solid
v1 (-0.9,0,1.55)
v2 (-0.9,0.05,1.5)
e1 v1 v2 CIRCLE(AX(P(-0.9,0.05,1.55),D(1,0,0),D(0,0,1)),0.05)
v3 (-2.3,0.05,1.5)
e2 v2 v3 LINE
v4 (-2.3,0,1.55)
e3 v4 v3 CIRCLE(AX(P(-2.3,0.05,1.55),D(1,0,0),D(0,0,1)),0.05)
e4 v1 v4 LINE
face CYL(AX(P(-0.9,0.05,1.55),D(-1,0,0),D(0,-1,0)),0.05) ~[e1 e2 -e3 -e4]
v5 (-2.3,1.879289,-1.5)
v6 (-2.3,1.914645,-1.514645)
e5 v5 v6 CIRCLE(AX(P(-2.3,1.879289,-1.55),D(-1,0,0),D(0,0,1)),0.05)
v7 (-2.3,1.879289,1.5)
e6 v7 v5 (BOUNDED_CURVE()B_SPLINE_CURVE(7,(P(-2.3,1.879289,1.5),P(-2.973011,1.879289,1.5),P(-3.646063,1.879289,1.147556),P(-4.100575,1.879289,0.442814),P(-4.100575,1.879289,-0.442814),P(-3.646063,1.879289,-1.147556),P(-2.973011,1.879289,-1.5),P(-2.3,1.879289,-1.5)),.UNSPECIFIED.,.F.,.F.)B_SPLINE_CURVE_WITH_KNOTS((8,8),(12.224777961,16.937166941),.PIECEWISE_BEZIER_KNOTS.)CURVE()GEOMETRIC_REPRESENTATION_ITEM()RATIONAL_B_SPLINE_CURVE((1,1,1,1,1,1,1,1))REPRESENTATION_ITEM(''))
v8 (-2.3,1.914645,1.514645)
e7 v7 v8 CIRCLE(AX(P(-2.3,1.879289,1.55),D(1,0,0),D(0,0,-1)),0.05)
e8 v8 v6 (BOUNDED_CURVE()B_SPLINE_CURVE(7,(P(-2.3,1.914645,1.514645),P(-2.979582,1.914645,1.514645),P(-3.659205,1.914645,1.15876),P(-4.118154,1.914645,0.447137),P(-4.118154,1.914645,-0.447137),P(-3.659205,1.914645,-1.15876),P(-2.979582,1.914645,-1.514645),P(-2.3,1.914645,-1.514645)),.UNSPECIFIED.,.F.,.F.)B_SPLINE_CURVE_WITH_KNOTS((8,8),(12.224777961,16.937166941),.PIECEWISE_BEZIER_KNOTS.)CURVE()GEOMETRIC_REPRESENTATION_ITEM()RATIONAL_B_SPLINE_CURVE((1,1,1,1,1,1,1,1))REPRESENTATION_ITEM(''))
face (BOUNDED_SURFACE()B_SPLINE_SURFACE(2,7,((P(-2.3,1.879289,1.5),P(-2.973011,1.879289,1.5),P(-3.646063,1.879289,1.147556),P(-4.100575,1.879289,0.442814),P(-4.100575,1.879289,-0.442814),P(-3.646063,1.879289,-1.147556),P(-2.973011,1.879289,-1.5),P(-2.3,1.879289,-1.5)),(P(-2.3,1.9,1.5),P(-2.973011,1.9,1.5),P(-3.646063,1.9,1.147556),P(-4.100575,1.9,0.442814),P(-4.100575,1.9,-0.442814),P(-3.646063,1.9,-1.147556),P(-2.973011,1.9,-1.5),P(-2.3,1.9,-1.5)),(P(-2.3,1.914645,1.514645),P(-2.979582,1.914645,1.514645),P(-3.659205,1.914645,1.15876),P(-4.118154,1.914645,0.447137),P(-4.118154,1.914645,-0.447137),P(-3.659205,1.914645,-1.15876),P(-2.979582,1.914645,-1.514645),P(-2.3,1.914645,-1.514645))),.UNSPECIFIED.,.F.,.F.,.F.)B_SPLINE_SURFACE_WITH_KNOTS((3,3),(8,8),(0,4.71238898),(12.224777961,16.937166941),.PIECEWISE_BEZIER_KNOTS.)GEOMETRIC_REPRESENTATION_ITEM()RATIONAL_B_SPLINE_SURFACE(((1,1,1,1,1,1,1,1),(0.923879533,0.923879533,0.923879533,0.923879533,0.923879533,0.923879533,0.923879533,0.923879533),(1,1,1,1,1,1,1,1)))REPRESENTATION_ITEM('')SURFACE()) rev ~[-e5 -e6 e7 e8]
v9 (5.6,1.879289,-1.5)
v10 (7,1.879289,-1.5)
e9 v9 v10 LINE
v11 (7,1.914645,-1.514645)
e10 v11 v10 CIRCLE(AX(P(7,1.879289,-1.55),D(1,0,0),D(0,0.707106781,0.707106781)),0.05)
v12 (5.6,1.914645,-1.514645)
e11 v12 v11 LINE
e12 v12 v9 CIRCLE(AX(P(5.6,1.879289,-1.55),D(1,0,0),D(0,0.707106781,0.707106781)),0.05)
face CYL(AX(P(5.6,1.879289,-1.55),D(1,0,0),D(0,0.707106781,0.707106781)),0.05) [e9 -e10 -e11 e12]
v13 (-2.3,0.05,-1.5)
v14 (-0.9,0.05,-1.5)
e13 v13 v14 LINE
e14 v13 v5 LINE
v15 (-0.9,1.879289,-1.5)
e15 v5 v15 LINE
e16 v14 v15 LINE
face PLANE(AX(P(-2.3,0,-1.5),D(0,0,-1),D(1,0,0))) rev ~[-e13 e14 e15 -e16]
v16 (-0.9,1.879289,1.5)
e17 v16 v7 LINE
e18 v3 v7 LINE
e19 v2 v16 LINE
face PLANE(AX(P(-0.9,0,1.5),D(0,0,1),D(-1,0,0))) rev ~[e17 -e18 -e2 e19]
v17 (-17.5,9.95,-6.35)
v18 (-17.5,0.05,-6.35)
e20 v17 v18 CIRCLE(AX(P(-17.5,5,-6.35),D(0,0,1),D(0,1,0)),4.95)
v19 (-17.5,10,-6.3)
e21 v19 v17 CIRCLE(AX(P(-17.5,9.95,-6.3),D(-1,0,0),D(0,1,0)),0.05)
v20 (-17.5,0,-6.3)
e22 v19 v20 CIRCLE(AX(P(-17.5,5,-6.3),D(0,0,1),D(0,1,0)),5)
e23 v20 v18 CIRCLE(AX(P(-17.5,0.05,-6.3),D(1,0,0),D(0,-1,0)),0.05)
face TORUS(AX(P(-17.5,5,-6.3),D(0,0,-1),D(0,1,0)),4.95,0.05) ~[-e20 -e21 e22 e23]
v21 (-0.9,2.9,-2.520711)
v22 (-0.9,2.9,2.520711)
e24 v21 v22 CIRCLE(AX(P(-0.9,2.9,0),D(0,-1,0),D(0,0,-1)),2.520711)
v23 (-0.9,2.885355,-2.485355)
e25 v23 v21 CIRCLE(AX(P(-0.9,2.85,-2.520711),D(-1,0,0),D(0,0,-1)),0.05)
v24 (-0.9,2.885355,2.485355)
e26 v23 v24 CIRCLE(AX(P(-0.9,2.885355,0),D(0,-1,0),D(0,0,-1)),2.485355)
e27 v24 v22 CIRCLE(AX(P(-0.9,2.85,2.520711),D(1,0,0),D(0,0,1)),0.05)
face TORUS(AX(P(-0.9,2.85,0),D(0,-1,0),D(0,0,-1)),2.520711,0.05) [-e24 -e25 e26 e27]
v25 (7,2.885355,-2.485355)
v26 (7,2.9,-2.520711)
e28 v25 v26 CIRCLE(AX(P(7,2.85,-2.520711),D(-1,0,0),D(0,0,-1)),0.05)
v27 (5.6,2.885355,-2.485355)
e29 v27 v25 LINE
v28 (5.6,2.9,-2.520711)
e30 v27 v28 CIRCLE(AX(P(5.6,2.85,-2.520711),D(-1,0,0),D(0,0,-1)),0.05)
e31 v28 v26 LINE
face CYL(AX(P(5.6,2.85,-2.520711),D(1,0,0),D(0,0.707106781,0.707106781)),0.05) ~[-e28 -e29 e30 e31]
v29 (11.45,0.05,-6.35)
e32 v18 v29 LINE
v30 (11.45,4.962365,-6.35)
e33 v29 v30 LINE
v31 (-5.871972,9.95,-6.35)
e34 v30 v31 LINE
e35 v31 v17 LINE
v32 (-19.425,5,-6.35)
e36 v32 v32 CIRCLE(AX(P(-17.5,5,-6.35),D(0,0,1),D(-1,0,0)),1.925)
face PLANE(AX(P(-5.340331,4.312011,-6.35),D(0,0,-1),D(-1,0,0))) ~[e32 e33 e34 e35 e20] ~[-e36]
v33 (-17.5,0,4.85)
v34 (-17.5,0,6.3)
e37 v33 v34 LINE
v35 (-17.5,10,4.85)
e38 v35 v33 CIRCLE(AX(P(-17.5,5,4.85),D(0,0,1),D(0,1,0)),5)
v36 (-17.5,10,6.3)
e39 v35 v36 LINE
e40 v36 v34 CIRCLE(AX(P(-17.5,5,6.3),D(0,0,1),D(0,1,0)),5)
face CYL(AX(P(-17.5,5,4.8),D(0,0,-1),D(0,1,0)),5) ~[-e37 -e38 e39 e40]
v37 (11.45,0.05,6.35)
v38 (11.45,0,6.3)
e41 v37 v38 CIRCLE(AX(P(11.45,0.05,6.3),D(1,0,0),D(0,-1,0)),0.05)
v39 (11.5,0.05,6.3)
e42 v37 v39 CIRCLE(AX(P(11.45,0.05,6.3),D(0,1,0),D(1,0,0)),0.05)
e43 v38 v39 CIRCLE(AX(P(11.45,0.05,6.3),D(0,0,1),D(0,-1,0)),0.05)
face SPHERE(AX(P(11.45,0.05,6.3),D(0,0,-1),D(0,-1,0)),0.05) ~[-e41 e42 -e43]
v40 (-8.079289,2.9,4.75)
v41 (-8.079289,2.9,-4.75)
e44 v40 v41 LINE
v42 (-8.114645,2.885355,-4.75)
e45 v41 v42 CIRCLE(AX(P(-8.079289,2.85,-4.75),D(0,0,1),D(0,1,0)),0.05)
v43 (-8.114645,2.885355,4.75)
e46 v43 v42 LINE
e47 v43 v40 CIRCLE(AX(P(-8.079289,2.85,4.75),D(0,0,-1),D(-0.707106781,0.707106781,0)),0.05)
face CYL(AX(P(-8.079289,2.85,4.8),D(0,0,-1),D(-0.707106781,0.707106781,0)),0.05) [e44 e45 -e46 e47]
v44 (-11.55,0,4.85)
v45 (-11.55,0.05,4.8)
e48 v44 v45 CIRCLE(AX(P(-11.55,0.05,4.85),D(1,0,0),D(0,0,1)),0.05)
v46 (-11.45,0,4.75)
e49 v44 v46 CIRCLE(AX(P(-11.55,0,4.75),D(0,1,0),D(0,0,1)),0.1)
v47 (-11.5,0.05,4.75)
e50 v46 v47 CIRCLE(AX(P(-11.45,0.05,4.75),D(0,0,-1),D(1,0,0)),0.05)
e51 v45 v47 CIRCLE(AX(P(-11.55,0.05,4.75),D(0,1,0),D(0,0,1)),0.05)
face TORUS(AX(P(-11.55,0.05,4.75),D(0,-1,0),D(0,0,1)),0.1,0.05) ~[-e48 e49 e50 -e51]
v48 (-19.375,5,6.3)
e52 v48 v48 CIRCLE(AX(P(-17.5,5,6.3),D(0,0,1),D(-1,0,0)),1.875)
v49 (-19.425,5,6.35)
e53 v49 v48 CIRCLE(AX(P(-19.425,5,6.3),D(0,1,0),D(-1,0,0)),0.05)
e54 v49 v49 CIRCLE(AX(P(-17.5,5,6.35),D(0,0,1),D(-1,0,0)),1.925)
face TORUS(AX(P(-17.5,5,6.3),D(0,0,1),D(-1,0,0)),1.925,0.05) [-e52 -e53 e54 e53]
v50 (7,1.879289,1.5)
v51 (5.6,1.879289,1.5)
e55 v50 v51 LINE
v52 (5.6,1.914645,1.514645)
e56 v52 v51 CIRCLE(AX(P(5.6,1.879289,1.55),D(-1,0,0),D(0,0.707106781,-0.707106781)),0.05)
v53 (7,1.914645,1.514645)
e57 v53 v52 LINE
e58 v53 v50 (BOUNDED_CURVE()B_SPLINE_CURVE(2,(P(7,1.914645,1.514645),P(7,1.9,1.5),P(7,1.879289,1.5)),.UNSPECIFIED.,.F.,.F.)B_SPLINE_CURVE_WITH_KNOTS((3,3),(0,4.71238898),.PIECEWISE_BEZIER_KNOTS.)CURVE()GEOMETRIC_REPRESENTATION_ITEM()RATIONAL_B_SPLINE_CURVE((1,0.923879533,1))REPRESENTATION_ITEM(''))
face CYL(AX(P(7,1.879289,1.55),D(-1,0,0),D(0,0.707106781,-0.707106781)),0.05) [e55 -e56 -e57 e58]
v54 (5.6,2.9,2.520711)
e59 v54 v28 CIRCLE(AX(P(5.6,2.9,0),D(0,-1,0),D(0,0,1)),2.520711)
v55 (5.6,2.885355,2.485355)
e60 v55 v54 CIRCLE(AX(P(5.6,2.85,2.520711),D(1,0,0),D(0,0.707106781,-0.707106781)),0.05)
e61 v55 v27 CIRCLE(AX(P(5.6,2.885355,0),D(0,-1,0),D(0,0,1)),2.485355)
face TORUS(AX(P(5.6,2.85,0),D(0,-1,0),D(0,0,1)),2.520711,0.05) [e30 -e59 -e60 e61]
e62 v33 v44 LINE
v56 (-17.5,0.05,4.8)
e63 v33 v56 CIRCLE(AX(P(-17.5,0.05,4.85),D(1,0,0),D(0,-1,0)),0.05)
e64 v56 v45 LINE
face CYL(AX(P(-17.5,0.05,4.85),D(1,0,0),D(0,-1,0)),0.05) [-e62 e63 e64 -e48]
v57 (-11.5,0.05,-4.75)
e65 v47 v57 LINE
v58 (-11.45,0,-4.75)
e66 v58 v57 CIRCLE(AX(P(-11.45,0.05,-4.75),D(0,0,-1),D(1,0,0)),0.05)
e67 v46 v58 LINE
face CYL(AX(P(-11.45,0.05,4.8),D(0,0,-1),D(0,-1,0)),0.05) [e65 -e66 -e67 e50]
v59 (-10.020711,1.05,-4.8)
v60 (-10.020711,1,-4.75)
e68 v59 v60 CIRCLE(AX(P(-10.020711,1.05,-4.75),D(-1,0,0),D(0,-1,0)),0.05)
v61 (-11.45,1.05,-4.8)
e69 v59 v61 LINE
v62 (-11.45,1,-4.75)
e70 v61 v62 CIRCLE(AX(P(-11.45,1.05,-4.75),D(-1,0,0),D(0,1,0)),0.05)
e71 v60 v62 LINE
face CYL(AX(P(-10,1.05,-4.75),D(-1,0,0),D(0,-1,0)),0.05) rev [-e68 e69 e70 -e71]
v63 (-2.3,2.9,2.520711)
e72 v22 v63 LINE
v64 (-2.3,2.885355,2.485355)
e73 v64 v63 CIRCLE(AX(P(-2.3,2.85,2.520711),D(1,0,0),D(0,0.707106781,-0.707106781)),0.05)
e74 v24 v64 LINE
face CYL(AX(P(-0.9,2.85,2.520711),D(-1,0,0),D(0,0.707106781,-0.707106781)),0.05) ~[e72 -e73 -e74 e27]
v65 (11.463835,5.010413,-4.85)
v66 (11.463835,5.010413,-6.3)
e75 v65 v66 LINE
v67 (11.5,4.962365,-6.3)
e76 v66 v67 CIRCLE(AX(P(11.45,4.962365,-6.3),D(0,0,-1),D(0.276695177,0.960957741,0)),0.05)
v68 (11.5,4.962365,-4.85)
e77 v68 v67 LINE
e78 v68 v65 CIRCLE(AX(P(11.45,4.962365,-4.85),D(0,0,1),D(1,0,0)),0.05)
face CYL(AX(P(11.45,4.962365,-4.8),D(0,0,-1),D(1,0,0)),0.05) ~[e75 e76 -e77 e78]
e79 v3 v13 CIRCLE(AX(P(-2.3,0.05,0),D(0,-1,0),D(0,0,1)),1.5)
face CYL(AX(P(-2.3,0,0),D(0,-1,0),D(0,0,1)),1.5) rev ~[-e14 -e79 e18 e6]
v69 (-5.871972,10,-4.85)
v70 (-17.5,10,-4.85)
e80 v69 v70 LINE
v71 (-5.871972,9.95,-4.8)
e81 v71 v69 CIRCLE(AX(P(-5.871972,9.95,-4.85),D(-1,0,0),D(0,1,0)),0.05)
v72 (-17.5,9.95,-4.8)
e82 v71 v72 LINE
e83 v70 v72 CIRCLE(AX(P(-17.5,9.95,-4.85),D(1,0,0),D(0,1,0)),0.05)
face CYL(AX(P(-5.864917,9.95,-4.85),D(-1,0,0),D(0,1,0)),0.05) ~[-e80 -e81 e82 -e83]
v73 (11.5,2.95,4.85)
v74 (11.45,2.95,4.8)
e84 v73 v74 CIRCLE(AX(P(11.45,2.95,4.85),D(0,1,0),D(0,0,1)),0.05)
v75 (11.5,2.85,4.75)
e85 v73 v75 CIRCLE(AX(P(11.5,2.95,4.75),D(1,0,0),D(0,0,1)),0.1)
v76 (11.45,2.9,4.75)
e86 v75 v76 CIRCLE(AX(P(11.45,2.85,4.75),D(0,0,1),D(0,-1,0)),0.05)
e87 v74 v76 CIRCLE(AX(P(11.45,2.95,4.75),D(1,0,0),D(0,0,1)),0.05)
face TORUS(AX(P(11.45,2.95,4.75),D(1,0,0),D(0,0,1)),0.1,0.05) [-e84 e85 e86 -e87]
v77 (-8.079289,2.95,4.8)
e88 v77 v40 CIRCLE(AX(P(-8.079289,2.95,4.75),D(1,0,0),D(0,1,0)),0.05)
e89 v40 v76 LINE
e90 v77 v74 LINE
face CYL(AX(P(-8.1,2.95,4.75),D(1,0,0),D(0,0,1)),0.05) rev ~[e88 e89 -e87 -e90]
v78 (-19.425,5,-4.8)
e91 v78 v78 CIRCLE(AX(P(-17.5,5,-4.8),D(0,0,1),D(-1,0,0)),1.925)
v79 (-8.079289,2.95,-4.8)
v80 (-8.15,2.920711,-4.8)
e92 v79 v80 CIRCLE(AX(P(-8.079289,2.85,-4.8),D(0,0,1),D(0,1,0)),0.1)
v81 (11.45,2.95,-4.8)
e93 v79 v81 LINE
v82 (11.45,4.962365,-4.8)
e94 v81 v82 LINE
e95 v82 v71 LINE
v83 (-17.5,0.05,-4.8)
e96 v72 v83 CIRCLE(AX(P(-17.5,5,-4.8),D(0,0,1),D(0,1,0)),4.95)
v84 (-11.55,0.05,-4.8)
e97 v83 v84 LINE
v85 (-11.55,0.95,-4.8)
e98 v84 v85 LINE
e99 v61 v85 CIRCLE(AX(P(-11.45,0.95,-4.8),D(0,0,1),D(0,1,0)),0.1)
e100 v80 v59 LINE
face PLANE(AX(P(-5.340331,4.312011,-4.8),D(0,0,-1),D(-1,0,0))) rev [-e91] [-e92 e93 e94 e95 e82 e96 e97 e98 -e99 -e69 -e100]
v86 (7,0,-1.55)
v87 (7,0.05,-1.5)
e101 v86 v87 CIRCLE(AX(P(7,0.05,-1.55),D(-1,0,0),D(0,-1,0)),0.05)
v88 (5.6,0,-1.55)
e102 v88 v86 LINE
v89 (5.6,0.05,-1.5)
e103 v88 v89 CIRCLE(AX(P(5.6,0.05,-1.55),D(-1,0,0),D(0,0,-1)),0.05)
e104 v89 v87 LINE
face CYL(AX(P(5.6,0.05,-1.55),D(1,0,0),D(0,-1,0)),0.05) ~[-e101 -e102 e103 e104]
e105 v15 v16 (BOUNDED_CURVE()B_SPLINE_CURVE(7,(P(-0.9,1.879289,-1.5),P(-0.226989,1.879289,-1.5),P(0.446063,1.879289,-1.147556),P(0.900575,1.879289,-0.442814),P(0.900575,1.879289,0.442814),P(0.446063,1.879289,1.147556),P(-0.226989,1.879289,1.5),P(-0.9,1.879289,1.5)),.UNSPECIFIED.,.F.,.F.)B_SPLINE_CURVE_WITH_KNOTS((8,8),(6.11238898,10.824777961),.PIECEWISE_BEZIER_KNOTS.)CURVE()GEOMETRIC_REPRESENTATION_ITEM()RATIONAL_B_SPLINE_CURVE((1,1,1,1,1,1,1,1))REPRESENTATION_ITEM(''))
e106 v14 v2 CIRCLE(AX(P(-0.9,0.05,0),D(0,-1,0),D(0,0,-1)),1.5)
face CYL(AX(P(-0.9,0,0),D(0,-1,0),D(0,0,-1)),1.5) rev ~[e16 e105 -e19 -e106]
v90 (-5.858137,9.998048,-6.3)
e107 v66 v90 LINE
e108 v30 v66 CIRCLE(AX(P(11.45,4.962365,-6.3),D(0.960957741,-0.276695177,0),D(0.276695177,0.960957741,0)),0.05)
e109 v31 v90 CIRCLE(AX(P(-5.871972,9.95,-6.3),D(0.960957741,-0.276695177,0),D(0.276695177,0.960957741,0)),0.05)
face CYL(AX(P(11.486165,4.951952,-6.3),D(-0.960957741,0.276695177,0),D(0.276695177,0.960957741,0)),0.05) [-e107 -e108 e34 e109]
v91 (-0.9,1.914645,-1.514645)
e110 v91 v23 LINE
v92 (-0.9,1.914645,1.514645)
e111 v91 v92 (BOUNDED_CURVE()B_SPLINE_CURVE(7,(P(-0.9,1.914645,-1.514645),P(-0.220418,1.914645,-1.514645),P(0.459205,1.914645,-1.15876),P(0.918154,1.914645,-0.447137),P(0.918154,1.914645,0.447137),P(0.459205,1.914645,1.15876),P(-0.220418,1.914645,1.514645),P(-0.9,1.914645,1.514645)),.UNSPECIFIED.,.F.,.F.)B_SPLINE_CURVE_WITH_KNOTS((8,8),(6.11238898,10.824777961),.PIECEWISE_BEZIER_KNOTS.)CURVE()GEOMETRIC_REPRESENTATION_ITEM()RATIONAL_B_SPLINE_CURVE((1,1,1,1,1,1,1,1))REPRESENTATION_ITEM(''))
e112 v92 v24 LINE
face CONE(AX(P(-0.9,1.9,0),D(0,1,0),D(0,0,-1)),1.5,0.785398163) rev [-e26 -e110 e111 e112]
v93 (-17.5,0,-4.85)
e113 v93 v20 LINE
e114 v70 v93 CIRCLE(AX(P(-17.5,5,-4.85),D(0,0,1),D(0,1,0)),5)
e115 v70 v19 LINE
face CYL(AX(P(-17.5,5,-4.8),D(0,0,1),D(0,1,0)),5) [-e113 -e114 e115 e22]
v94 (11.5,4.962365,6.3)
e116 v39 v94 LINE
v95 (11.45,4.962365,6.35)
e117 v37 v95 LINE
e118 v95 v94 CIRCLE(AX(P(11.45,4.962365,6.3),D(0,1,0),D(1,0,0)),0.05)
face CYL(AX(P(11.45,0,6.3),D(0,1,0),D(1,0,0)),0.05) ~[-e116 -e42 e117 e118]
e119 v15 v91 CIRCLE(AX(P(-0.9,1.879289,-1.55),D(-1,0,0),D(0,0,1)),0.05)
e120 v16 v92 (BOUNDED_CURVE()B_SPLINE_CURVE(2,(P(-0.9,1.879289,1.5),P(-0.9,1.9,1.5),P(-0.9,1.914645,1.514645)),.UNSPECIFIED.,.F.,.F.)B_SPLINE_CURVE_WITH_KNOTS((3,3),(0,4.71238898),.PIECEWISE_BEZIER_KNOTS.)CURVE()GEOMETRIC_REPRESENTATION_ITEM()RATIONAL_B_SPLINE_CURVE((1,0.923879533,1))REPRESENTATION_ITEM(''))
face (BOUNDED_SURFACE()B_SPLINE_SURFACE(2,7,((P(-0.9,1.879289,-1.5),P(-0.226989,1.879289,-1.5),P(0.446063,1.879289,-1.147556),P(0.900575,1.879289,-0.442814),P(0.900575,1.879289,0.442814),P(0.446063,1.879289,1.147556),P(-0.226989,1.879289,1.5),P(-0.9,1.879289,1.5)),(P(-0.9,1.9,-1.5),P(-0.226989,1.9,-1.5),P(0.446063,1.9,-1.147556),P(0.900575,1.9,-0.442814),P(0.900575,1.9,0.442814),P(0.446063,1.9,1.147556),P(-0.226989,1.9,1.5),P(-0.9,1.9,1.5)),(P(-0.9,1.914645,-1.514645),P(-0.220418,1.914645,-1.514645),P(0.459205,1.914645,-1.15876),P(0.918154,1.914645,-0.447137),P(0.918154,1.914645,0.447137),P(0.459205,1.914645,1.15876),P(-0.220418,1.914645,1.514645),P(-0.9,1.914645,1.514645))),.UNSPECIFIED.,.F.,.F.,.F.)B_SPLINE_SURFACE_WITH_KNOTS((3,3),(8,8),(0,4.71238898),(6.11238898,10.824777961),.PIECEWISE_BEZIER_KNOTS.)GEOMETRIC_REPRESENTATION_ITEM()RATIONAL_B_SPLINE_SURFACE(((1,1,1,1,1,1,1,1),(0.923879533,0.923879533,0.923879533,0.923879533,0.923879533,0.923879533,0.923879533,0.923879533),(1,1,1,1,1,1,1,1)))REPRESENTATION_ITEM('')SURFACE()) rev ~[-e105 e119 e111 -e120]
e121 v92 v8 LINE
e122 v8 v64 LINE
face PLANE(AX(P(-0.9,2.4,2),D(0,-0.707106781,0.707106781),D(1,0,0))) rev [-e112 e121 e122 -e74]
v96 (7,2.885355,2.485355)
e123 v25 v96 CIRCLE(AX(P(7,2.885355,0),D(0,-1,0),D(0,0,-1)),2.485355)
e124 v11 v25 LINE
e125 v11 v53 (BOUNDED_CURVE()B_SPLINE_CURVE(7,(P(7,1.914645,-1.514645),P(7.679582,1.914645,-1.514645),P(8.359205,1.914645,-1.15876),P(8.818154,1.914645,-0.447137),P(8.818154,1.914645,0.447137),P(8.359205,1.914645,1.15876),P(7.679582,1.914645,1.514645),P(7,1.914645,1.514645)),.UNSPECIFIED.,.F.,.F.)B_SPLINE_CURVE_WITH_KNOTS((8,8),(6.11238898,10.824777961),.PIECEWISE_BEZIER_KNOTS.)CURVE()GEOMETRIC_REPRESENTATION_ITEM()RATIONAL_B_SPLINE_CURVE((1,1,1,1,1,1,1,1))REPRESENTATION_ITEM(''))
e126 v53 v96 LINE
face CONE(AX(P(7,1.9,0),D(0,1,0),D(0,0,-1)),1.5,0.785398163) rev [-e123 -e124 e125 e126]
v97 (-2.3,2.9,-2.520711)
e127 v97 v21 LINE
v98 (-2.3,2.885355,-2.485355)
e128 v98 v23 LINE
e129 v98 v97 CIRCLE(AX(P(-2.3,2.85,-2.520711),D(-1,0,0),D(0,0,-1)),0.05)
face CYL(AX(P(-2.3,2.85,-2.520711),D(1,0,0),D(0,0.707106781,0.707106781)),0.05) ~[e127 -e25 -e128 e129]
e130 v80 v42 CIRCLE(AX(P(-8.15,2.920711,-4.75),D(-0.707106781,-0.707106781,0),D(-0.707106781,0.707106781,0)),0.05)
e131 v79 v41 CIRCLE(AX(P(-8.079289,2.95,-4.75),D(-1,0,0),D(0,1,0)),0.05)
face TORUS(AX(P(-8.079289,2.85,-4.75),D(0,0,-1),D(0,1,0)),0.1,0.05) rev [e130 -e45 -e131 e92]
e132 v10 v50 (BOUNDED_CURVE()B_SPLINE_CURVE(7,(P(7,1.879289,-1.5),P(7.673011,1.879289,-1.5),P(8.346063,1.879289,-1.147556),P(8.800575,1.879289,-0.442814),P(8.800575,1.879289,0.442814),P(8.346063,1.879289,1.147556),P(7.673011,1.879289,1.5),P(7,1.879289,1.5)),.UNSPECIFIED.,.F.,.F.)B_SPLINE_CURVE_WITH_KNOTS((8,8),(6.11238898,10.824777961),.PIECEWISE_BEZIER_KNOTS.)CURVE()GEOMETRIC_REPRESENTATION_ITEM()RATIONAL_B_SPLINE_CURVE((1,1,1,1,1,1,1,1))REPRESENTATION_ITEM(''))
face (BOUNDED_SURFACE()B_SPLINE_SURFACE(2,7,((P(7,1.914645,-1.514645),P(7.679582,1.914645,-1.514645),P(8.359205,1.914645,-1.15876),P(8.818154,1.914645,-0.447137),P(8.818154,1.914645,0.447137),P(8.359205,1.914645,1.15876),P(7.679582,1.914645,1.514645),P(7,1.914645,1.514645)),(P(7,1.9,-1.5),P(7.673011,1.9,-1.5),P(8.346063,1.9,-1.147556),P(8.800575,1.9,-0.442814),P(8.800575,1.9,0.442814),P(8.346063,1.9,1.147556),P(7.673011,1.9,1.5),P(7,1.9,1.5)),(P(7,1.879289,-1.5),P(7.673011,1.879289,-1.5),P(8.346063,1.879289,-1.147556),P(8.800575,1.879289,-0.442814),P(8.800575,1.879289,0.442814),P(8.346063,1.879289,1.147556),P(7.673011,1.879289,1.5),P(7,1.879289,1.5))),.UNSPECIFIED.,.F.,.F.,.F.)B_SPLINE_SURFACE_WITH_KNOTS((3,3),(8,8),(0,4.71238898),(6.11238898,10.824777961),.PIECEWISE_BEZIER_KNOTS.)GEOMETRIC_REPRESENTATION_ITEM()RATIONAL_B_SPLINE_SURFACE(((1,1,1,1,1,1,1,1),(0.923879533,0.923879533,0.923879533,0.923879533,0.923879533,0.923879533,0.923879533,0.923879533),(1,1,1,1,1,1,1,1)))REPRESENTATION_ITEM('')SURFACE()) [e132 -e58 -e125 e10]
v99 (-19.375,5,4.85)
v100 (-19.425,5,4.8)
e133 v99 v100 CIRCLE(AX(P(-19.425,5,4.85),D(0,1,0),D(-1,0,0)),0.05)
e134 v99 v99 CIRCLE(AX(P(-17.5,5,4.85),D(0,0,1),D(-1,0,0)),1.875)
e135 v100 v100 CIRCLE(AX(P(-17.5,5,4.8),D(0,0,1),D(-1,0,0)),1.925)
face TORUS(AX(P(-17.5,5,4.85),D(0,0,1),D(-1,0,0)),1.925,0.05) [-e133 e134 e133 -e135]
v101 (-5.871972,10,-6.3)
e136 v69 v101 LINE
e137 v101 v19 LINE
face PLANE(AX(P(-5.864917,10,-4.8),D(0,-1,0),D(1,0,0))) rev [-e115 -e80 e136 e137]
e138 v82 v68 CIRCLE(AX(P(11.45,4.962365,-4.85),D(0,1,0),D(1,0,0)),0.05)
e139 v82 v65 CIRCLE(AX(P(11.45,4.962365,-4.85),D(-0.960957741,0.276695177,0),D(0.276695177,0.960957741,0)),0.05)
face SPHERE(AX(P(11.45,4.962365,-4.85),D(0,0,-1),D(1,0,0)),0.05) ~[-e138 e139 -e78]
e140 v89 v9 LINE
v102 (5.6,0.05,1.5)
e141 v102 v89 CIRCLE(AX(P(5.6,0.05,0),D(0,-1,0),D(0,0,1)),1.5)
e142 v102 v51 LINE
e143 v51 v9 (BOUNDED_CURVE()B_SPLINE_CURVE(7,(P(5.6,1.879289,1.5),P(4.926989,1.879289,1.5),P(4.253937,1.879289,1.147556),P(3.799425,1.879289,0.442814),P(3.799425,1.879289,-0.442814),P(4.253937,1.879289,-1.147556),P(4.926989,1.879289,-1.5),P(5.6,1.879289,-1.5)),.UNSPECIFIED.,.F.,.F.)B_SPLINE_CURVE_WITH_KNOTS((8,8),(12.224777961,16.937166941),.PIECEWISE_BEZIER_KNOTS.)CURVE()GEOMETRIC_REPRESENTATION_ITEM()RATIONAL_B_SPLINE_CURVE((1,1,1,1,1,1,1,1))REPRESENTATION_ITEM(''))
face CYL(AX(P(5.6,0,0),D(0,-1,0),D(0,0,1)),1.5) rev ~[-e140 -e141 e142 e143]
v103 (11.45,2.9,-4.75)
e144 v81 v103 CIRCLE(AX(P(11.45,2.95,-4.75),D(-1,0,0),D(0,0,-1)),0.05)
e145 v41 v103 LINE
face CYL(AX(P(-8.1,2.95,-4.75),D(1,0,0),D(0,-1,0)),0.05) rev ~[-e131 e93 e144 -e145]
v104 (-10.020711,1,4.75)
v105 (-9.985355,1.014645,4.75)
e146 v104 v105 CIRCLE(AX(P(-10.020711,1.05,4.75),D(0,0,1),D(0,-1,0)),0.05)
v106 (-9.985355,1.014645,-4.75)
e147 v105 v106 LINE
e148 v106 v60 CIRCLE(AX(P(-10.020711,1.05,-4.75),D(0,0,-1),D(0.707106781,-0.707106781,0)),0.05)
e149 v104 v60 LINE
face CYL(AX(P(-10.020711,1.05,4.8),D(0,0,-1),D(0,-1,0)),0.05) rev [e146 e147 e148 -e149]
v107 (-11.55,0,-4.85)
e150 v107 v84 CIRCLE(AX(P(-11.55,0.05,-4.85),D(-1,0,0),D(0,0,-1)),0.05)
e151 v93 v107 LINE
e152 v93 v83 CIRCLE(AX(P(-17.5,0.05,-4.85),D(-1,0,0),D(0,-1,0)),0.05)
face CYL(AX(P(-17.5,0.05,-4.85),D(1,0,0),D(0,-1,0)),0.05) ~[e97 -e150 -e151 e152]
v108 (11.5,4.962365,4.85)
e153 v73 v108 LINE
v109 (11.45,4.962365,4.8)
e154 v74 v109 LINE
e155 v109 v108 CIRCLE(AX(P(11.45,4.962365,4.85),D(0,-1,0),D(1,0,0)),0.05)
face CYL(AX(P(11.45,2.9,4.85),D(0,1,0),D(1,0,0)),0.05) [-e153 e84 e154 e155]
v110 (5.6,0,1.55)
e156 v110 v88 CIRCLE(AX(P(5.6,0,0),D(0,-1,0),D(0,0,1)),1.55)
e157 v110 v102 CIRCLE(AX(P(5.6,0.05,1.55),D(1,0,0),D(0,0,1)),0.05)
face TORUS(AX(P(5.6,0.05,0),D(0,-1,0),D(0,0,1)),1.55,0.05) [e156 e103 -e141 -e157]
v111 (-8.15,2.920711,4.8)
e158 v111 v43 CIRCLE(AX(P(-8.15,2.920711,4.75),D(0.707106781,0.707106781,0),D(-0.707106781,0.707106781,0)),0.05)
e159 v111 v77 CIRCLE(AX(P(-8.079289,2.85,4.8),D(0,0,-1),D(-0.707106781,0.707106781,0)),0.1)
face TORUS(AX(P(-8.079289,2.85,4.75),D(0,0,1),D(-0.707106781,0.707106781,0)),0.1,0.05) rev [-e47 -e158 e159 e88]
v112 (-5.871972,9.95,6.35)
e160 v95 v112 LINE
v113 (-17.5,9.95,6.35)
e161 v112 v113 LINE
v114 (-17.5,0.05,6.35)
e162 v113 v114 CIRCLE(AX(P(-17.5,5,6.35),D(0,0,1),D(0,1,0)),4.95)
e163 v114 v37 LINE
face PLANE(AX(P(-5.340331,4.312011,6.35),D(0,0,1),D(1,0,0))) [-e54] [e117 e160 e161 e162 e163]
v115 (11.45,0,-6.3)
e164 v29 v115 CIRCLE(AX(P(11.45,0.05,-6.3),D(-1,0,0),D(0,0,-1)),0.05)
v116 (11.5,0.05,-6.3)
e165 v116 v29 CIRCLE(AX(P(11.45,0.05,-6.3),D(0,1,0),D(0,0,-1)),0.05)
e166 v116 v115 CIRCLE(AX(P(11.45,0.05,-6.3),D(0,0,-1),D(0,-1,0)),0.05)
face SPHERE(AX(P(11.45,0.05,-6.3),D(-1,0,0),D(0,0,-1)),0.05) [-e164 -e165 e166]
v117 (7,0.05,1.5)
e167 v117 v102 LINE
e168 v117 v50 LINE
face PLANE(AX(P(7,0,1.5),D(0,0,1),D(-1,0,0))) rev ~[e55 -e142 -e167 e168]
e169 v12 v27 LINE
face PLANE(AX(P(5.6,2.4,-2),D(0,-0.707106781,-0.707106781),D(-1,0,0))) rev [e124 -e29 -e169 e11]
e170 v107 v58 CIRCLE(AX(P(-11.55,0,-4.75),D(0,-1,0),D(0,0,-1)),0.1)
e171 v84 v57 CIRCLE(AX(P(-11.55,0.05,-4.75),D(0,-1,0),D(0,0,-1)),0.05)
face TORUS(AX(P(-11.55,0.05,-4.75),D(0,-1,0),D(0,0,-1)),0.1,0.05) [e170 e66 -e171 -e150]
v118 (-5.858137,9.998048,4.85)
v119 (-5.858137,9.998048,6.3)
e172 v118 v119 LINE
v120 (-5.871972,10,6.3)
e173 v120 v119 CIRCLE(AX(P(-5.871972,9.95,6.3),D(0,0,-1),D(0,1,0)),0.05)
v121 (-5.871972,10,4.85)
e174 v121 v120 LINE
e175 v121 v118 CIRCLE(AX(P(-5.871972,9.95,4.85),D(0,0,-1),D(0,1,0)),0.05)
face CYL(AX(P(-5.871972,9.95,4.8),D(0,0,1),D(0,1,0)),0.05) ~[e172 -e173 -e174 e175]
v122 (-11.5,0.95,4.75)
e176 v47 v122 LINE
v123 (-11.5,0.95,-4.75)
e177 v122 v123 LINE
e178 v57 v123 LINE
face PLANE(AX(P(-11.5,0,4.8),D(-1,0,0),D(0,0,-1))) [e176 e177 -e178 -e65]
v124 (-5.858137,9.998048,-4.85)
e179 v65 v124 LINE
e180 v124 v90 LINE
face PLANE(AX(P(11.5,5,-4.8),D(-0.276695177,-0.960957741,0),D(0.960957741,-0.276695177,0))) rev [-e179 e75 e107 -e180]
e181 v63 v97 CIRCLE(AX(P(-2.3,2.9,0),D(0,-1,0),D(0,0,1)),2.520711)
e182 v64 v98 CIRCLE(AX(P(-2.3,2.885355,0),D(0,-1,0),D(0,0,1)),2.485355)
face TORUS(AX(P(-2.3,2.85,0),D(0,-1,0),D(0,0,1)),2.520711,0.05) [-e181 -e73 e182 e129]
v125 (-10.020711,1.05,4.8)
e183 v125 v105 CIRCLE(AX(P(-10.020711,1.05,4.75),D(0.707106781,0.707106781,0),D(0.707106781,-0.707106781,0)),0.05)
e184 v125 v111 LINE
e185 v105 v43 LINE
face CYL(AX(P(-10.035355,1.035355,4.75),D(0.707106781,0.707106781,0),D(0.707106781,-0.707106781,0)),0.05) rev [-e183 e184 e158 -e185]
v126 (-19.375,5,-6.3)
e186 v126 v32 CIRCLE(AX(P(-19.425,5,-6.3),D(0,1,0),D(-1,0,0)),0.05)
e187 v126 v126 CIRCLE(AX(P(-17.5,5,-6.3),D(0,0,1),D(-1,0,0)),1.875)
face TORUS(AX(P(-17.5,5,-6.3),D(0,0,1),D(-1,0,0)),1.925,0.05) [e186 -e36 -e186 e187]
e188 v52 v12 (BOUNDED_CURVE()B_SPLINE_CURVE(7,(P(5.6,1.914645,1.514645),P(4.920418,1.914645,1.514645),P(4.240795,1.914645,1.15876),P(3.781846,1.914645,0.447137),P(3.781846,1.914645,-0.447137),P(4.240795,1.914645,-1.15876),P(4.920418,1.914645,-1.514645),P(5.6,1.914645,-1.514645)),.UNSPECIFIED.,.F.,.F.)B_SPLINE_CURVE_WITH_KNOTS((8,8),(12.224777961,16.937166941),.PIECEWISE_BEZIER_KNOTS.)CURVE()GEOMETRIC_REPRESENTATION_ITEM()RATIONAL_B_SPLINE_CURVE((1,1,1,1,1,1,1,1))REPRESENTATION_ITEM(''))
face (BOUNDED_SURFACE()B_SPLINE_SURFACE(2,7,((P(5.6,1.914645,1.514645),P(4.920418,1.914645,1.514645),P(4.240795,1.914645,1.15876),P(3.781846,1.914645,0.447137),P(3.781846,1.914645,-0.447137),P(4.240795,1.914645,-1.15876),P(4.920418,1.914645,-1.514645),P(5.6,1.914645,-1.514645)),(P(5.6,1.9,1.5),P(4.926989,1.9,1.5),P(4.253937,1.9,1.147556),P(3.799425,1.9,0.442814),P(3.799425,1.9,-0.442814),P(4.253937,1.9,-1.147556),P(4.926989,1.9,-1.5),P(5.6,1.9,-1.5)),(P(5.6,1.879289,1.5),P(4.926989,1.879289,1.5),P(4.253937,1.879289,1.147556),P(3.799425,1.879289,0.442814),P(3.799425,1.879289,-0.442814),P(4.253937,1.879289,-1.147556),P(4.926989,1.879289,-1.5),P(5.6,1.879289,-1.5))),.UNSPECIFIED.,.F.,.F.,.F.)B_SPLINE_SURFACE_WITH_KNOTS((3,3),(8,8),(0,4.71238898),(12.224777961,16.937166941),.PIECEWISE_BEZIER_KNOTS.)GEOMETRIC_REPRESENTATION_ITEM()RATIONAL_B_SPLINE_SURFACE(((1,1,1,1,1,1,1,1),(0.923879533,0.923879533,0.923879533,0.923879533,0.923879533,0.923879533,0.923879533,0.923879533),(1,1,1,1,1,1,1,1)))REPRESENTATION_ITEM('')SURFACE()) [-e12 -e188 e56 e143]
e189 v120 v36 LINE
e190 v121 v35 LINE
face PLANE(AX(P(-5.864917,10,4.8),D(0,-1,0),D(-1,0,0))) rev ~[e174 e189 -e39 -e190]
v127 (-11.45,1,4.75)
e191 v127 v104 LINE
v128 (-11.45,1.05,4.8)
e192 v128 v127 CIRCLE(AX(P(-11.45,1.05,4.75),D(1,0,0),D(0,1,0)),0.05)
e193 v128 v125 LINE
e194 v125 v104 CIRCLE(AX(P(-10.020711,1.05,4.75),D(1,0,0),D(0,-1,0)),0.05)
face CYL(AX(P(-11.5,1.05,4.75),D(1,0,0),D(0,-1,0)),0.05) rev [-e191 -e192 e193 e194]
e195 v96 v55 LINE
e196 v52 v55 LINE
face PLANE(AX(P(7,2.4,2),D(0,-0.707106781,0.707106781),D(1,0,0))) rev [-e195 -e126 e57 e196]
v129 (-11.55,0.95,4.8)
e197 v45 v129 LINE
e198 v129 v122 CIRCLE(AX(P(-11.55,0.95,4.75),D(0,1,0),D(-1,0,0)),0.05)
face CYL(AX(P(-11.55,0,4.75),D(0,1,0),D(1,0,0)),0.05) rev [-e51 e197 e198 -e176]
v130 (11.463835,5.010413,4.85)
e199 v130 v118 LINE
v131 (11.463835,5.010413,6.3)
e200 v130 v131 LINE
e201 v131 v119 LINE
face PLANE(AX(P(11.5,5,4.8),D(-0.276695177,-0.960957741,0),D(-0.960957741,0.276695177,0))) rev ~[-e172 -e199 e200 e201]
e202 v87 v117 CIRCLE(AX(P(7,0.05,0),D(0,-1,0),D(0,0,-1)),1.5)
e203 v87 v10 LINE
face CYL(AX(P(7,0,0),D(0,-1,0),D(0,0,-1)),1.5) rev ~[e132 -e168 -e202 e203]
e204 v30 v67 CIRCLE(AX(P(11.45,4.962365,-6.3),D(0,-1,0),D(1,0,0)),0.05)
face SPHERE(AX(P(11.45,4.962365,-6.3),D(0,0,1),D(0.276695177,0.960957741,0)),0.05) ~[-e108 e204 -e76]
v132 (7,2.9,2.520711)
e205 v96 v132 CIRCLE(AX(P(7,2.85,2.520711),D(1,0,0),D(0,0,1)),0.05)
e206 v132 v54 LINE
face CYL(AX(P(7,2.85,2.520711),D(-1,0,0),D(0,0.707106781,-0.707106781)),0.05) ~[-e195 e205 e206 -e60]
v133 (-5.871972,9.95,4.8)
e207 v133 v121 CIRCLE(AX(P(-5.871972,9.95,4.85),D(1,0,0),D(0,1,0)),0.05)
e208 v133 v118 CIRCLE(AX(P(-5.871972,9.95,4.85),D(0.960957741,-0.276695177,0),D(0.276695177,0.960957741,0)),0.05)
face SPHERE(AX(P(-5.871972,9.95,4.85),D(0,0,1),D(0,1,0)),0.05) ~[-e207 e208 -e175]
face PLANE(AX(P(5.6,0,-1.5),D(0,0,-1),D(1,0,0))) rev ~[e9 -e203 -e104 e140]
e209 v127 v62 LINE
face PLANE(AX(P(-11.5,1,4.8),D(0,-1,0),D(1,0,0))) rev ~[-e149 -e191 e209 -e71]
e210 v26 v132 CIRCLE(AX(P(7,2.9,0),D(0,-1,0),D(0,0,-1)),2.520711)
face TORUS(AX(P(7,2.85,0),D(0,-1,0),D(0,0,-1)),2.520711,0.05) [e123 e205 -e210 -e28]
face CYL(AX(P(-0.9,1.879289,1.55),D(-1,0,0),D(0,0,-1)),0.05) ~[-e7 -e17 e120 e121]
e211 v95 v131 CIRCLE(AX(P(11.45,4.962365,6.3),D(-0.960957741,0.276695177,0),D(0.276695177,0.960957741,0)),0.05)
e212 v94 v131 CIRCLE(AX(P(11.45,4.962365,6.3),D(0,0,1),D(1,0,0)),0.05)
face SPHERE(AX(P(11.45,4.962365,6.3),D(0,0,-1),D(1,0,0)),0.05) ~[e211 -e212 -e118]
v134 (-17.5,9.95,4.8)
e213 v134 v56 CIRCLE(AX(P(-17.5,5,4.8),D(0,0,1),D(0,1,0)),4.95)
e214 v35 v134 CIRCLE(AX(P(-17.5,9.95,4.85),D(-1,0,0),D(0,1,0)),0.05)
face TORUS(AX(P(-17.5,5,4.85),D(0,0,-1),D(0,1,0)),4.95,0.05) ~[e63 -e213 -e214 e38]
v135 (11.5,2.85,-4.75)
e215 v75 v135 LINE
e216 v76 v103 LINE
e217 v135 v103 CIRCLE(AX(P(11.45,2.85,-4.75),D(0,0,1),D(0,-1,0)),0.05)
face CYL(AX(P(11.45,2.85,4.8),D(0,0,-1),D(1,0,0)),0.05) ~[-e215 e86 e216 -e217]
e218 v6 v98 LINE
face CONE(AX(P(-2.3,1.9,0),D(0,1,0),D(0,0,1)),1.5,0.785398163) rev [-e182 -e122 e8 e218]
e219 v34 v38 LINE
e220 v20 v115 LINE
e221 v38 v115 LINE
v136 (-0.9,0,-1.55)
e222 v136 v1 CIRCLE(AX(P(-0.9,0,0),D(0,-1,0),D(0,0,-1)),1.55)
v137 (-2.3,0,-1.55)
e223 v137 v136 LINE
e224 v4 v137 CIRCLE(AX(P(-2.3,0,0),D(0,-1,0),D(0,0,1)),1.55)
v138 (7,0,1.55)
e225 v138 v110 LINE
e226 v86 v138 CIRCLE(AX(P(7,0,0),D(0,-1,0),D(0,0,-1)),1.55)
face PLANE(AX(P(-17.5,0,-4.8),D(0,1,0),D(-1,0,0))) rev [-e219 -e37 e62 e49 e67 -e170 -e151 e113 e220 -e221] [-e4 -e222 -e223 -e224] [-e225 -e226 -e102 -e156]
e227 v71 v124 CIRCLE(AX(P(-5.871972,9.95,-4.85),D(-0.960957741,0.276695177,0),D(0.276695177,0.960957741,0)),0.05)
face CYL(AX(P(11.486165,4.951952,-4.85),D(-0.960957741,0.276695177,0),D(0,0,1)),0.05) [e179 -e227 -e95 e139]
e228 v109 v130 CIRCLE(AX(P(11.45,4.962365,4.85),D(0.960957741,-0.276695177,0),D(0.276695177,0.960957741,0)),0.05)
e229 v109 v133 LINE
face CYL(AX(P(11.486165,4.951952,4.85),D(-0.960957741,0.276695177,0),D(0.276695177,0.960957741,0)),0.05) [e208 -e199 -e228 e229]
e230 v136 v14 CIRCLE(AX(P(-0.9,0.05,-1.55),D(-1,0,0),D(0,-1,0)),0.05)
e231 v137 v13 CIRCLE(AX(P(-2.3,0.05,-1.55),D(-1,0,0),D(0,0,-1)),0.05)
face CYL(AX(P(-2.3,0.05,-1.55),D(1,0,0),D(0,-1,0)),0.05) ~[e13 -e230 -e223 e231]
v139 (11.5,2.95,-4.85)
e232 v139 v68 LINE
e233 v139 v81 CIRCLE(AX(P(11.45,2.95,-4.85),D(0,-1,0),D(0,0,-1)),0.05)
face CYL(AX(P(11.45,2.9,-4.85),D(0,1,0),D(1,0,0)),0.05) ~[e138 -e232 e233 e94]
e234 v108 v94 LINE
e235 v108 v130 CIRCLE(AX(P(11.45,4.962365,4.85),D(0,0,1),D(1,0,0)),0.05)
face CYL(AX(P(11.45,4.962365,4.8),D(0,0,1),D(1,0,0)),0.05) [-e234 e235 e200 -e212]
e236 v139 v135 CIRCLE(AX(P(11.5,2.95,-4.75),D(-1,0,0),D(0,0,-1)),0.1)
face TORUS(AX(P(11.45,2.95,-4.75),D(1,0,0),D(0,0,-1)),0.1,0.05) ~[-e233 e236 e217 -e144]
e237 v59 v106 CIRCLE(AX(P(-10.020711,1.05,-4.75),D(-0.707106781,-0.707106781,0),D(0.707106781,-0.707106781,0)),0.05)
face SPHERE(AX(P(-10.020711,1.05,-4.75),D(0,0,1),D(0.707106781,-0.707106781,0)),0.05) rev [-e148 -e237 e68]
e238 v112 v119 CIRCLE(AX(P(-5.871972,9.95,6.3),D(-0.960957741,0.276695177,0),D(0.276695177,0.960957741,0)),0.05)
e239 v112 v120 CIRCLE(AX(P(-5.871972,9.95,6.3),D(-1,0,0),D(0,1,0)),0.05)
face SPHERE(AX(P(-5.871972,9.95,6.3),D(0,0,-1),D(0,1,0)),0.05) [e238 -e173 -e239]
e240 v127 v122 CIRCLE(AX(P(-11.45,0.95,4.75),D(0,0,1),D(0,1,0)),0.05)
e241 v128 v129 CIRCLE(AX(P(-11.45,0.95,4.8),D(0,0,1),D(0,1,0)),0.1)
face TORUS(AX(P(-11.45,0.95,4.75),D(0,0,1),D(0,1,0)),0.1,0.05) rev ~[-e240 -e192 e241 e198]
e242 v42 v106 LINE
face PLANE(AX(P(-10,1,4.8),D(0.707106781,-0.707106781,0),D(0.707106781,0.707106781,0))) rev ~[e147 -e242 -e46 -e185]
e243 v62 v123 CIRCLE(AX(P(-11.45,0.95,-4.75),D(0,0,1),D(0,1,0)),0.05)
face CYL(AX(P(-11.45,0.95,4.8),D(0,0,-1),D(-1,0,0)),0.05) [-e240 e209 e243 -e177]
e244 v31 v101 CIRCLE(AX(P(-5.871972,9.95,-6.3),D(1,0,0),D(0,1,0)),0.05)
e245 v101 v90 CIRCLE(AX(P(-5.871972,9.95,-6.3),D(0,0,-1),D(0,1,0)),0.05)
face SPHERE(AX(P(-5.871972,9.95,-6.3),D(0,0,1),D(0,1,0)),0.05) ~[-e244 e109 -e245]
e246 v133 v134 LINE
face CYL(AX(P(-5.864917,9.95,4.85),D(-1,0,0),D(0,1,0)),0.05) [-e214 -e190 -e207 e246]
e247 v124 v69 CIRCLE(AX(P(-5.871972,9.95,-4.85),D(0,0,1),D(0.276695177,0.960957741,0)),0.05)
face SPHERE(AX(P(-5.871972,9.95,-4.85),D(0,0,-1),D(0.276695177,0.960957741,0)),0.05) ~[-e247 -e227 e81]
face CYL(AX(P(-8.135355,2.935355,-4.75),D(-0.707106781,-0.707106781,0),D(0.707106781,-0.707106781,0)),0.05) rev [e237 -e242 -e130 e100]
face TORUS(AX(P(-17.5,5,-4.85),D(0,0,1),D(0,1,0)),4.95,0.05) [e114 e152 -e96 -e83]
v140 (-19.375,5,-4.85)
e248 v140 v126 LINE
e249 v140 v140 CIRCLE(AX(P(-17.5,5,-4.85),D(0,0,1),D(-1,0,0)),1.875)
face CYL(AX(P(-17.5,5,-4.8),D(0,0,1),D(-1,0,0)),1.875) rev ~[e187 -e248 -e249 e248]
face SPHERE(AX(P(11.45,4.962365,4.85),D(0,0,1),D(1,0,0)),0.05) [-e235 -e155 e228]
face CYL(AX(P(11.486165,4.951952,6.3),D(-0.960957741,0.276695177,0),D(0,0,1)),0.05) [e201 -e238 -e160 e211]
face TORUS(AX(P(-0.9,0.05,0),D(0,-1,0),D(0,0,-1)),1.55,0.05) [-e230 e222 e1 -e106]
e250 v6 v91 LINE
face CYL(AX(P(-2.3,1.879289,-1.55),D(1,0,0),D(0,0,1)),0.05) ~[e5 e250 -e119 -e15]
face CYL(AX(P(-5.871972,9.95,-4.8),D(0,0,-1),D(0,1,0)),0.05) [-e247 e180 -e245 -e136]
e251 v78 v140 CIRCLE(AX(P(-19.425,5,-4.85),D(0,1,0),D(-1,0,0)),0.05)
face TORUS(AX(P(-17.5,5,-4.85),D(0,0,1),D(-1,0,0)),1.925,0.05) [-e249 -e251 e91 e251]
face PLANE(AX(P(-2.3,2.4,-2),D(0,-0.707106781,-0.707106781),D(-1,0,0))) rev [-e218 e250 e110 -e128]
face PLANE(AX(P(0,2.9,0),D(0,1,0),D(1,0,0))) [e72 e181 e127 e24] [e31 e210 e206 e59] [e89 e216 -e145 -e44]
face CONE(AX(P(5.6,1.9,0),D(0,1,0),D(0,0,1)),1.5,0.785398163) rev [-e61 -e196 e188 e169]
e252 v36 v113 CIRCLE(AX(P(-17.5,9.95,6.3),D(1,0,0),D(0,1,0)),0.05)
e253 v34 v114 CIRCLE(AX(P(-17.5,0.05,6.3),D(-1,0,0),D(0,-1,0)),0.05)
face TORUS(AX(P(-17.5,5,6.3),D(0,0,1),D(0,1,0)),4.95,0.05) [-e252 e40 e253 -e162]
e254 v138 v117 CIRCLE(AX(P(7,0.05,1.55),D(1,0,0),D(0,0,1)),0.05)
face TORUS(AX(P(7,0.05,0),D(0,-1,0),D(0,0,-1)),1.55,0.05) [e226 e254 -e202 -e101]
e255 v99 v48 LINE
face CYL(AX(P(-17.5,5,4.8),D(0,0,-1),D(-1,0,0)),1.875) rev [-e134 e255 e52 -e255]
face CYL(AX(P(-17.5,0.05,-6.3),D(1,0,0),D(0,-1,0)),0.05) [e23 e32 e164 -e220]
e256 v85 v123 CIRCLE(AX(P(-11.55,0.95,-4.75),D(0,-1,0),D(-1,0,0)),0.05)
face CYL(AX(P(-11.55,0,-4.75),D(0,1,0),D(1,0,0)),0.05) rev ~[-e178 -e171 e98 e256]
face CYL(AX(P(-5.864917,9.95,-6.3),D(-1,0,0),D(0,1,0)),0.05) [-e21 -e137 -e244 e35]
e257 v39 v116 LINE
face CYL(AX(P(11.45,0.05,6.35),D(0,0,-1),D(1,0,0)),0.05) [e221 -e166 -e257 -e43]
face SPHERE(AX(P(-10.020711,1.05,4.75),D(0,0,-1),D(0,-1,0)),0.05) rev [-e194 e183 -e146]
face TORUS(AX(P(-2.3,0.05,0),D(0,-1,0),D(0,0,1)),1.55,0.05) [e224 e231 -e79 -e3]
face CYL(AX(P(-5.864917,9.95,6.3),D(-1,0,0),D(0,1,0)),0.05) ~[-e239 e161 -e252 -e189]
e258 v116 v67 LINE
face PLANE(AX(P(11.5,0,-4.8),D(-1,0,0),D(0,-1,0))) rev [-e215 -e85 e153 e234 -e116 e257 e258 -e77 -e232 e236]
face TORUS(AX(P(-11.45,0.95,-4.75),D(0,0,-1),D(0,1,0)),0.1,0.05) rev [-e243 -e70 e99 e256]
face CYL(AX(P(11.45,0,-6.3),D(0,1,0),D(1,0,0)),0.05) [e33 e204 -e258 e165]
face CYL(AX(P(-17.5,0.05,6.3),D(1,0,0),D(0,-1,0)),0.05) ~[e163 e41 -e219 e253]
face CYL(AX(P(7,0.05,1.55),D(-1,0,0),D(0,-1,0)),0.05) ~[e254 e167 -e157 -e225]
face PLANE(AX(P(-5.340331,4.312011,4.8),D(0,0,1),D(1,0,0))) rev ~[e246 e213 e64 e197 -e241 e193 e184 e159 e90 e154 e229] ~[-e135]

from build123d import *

# Parameters (mm, degrees)
SKETCH1_W           = 23
SKETCH1_H           = 9.6
BOSS_EXTRUDE1_DEPTH = 2.9
CHAMFER1_SIZE       = 1
CUT_EXTRUDE1_DEPTH  = 16.258440287
SKETCH2_R           = 1.875
BOSS_EXTRUDE2_DEPTH = 1.55
FILLET1_R           = 0.05


with BuildPart() as part:
    # Sketch1 → Boss-Extrude1 (new body)
    with BuildSketch(Plane(origin=(0, 0, 0), x_dir=(1, 0, 0), z_dir=(0, 1, 0))):
        Rectangle(SKETCH1_W, SKETCH1_H)
        with BuildLine():
            Line((5.6, 1.5), (7, 1.5))
            ThreePointArc((7, 1.5), (8.5, 0), (7, -1.5))
            Line((7, -1.5), (5.6, -1.5))
            ThreePointArc((5.6, -1.5), (4.1, 0), (5.6, 1.5))
        make_face(mode=Mode.SUBTRACT)
        with BuildLine():
            Line((-2.3, 1.5), (-0.9, 1.5))
            ThreePointArc((-0.9, 1.5), (0.6, 0), (-0.9, -1.5))
            Line((-0.9, -1.5), (-2.3, -1.5))
            ThreePointArc((-2.3, -1.5), (-3.8, 0), (-2.3, 1.5))
        make_face(mode=Mode.SUBTRACT)
    extrude(amount=BOSS_EXTRUDE1_DEPTH)

    # Chamfer1
    chamfer1_edges = [part.edges().sort_by_distance(p)[0] for p in [
        (4.1, 2.9, 0),
        (6.3, 2.9, 1.5),
        (8.5, 2.9, 0),
        (6.3, 2.9, -1.5),
        (-3.8, 2.9, 0),
        (-1.6, 2.9, 1.5),
        (0.6, 2.9, 0),
        (-1.6, 2.9, -1.5),
    ]]
    chamfer(chamfer1_edges, length=CHAMFER1_SIZE)

    # Sketch4 → Cut-Extrude1 (cut, through all)
    with BuildSketch(Plane.XY.offset(4.8)):
        Polygon((-11.5, 1), (-10, 1), (-8.1, 2.9), (-11.5, 2.9), align=None)
    extrude(amount=-CUT_EXTRUDE1_DEPTH, mode=Mode.SUBTRACT)

    # Sketch2 → Boss-Extrude2 (add)
    with BuildSketch(Plane.XY.offset(4.8)):
        with BuildLine():
            Line((11.5, 0), (11.5, 5))
            Line((11.5, 5), (-5.864916731, 10))
            Line((-5.864916731, 10), (-17.5, 10))
            ThreePointArc((-17.5, 10), (-22.5, 5), (-17.5, 0))
            Line((-17.5, 0), (11.5, 0))
        make_face()
        with Locations(Location((-17.5, 5, 0), (0, 0, 180))):
            Circle(SKETCH2_R, mode=Mode.SUBTRACT)
    boss_extrude2 = extrude(amount=BOSS_EXTRUDE2_DEPTH)

    # Mirror1: Boss-Extrude2 across plane
    add(boss_extrude2.mirror(Plane.XY))

    # Fillet1
    fillet1_edges = [part.edges().sort_by_distance(p)[0] for p in [
        (-3, 0, -6.35),
        (-22.5, 5, -6.35),
        (-11.682458366, 10, -6.35),
        (2.817541634, 7.5, -6.35),
        (-5.864916731, 10, -5.575),
        (11.5, 2.5, -6.35),
        (11.5, 5, -5.575),
        (-15.625, 5, -6.35),
        (11.5, 3.95, -4.8),
        (2.817541634, 7.5, -4.8),
        (-11.682458366, 10, -4.8),
        (-22.5, 5, -4.8),
        (-14.5, 0, -4.8),
        (-15.625, 5, -4.8),
        (4.1, 0, 0),
        (6.3, 0, 1.5),
        (8.5, 0, 0),
        (6.3, 0, -1.5),
        (-3.8, 0, 0),
        (-1.6, 0, 1.5),
        (0.6, 0, 0),
        (-1.6, 0, -1.5),
        (4.1, 1.9, 0),
        (1.6, 2.9, 0),
        (-1.6, 2.9, -2.5),
        (-1.6, 2.9, 2.5),
        (-4.8, 2.9, 0),
        (9.5, 2.9, 0),
        (6.3, 2.9, -2.5),
        (6.3, 2.9, 2.5),
        (3.1, 2.9, 0),
        (6.3, 1.9, 1.5),
        (6.3, 1.9, -1.5),
        (8.5, 1.9, 0),
        (11.5, 2.9, 0),
        (-3.8, 1.9, 0),
        (-1.6, 1.9, 1.5),
        (-1.6, 1.9, -1.5),
        (0.6, 1.9, 0),
        (-11.5, 0, 0),
        (11.5, 0, 0),
        (1.7, 2.9, 4.8),
        (-11.5, 0.5, 4.8),
        (-11.5, 0.5, -4.8),
        (-11.5, 1, 0),
        (-9.05, 1.95, -4.8),
        (-8.1, 2.9, 0),
        (-10.75, 1, -4.8),
        (-10, 1, 0),
        (-10.75, 1, 4.8),
        (-9.05, 1.95, 4.8),
        (-3, 0, 6.35),
        (11.5, 2.5, 6.35),
        (2.817541634, 7.5, 6.35),
        (-11.682458366, 10, 6.35),
        (-22.5, 5, 6.35),
        (-15.625, 5, 4.8),
        (-14.5, 0, 4.8),
        (11.5, 3.95, 4.8),
        (2.817541634, 7.5, 4.8),
        (11.5, 5, 5.575),
        (-11.682458366, 10, 4.8),
        (-5.864916731, 10, 5.575),
        (-22.5, 5, 4.8),
        (-15.625, 5, 6.35),
        (1.7, 2.9, -4.8),
    ]]
    fillet(fillet1_edges, radius=FILLET1_R)


solid = part.part
